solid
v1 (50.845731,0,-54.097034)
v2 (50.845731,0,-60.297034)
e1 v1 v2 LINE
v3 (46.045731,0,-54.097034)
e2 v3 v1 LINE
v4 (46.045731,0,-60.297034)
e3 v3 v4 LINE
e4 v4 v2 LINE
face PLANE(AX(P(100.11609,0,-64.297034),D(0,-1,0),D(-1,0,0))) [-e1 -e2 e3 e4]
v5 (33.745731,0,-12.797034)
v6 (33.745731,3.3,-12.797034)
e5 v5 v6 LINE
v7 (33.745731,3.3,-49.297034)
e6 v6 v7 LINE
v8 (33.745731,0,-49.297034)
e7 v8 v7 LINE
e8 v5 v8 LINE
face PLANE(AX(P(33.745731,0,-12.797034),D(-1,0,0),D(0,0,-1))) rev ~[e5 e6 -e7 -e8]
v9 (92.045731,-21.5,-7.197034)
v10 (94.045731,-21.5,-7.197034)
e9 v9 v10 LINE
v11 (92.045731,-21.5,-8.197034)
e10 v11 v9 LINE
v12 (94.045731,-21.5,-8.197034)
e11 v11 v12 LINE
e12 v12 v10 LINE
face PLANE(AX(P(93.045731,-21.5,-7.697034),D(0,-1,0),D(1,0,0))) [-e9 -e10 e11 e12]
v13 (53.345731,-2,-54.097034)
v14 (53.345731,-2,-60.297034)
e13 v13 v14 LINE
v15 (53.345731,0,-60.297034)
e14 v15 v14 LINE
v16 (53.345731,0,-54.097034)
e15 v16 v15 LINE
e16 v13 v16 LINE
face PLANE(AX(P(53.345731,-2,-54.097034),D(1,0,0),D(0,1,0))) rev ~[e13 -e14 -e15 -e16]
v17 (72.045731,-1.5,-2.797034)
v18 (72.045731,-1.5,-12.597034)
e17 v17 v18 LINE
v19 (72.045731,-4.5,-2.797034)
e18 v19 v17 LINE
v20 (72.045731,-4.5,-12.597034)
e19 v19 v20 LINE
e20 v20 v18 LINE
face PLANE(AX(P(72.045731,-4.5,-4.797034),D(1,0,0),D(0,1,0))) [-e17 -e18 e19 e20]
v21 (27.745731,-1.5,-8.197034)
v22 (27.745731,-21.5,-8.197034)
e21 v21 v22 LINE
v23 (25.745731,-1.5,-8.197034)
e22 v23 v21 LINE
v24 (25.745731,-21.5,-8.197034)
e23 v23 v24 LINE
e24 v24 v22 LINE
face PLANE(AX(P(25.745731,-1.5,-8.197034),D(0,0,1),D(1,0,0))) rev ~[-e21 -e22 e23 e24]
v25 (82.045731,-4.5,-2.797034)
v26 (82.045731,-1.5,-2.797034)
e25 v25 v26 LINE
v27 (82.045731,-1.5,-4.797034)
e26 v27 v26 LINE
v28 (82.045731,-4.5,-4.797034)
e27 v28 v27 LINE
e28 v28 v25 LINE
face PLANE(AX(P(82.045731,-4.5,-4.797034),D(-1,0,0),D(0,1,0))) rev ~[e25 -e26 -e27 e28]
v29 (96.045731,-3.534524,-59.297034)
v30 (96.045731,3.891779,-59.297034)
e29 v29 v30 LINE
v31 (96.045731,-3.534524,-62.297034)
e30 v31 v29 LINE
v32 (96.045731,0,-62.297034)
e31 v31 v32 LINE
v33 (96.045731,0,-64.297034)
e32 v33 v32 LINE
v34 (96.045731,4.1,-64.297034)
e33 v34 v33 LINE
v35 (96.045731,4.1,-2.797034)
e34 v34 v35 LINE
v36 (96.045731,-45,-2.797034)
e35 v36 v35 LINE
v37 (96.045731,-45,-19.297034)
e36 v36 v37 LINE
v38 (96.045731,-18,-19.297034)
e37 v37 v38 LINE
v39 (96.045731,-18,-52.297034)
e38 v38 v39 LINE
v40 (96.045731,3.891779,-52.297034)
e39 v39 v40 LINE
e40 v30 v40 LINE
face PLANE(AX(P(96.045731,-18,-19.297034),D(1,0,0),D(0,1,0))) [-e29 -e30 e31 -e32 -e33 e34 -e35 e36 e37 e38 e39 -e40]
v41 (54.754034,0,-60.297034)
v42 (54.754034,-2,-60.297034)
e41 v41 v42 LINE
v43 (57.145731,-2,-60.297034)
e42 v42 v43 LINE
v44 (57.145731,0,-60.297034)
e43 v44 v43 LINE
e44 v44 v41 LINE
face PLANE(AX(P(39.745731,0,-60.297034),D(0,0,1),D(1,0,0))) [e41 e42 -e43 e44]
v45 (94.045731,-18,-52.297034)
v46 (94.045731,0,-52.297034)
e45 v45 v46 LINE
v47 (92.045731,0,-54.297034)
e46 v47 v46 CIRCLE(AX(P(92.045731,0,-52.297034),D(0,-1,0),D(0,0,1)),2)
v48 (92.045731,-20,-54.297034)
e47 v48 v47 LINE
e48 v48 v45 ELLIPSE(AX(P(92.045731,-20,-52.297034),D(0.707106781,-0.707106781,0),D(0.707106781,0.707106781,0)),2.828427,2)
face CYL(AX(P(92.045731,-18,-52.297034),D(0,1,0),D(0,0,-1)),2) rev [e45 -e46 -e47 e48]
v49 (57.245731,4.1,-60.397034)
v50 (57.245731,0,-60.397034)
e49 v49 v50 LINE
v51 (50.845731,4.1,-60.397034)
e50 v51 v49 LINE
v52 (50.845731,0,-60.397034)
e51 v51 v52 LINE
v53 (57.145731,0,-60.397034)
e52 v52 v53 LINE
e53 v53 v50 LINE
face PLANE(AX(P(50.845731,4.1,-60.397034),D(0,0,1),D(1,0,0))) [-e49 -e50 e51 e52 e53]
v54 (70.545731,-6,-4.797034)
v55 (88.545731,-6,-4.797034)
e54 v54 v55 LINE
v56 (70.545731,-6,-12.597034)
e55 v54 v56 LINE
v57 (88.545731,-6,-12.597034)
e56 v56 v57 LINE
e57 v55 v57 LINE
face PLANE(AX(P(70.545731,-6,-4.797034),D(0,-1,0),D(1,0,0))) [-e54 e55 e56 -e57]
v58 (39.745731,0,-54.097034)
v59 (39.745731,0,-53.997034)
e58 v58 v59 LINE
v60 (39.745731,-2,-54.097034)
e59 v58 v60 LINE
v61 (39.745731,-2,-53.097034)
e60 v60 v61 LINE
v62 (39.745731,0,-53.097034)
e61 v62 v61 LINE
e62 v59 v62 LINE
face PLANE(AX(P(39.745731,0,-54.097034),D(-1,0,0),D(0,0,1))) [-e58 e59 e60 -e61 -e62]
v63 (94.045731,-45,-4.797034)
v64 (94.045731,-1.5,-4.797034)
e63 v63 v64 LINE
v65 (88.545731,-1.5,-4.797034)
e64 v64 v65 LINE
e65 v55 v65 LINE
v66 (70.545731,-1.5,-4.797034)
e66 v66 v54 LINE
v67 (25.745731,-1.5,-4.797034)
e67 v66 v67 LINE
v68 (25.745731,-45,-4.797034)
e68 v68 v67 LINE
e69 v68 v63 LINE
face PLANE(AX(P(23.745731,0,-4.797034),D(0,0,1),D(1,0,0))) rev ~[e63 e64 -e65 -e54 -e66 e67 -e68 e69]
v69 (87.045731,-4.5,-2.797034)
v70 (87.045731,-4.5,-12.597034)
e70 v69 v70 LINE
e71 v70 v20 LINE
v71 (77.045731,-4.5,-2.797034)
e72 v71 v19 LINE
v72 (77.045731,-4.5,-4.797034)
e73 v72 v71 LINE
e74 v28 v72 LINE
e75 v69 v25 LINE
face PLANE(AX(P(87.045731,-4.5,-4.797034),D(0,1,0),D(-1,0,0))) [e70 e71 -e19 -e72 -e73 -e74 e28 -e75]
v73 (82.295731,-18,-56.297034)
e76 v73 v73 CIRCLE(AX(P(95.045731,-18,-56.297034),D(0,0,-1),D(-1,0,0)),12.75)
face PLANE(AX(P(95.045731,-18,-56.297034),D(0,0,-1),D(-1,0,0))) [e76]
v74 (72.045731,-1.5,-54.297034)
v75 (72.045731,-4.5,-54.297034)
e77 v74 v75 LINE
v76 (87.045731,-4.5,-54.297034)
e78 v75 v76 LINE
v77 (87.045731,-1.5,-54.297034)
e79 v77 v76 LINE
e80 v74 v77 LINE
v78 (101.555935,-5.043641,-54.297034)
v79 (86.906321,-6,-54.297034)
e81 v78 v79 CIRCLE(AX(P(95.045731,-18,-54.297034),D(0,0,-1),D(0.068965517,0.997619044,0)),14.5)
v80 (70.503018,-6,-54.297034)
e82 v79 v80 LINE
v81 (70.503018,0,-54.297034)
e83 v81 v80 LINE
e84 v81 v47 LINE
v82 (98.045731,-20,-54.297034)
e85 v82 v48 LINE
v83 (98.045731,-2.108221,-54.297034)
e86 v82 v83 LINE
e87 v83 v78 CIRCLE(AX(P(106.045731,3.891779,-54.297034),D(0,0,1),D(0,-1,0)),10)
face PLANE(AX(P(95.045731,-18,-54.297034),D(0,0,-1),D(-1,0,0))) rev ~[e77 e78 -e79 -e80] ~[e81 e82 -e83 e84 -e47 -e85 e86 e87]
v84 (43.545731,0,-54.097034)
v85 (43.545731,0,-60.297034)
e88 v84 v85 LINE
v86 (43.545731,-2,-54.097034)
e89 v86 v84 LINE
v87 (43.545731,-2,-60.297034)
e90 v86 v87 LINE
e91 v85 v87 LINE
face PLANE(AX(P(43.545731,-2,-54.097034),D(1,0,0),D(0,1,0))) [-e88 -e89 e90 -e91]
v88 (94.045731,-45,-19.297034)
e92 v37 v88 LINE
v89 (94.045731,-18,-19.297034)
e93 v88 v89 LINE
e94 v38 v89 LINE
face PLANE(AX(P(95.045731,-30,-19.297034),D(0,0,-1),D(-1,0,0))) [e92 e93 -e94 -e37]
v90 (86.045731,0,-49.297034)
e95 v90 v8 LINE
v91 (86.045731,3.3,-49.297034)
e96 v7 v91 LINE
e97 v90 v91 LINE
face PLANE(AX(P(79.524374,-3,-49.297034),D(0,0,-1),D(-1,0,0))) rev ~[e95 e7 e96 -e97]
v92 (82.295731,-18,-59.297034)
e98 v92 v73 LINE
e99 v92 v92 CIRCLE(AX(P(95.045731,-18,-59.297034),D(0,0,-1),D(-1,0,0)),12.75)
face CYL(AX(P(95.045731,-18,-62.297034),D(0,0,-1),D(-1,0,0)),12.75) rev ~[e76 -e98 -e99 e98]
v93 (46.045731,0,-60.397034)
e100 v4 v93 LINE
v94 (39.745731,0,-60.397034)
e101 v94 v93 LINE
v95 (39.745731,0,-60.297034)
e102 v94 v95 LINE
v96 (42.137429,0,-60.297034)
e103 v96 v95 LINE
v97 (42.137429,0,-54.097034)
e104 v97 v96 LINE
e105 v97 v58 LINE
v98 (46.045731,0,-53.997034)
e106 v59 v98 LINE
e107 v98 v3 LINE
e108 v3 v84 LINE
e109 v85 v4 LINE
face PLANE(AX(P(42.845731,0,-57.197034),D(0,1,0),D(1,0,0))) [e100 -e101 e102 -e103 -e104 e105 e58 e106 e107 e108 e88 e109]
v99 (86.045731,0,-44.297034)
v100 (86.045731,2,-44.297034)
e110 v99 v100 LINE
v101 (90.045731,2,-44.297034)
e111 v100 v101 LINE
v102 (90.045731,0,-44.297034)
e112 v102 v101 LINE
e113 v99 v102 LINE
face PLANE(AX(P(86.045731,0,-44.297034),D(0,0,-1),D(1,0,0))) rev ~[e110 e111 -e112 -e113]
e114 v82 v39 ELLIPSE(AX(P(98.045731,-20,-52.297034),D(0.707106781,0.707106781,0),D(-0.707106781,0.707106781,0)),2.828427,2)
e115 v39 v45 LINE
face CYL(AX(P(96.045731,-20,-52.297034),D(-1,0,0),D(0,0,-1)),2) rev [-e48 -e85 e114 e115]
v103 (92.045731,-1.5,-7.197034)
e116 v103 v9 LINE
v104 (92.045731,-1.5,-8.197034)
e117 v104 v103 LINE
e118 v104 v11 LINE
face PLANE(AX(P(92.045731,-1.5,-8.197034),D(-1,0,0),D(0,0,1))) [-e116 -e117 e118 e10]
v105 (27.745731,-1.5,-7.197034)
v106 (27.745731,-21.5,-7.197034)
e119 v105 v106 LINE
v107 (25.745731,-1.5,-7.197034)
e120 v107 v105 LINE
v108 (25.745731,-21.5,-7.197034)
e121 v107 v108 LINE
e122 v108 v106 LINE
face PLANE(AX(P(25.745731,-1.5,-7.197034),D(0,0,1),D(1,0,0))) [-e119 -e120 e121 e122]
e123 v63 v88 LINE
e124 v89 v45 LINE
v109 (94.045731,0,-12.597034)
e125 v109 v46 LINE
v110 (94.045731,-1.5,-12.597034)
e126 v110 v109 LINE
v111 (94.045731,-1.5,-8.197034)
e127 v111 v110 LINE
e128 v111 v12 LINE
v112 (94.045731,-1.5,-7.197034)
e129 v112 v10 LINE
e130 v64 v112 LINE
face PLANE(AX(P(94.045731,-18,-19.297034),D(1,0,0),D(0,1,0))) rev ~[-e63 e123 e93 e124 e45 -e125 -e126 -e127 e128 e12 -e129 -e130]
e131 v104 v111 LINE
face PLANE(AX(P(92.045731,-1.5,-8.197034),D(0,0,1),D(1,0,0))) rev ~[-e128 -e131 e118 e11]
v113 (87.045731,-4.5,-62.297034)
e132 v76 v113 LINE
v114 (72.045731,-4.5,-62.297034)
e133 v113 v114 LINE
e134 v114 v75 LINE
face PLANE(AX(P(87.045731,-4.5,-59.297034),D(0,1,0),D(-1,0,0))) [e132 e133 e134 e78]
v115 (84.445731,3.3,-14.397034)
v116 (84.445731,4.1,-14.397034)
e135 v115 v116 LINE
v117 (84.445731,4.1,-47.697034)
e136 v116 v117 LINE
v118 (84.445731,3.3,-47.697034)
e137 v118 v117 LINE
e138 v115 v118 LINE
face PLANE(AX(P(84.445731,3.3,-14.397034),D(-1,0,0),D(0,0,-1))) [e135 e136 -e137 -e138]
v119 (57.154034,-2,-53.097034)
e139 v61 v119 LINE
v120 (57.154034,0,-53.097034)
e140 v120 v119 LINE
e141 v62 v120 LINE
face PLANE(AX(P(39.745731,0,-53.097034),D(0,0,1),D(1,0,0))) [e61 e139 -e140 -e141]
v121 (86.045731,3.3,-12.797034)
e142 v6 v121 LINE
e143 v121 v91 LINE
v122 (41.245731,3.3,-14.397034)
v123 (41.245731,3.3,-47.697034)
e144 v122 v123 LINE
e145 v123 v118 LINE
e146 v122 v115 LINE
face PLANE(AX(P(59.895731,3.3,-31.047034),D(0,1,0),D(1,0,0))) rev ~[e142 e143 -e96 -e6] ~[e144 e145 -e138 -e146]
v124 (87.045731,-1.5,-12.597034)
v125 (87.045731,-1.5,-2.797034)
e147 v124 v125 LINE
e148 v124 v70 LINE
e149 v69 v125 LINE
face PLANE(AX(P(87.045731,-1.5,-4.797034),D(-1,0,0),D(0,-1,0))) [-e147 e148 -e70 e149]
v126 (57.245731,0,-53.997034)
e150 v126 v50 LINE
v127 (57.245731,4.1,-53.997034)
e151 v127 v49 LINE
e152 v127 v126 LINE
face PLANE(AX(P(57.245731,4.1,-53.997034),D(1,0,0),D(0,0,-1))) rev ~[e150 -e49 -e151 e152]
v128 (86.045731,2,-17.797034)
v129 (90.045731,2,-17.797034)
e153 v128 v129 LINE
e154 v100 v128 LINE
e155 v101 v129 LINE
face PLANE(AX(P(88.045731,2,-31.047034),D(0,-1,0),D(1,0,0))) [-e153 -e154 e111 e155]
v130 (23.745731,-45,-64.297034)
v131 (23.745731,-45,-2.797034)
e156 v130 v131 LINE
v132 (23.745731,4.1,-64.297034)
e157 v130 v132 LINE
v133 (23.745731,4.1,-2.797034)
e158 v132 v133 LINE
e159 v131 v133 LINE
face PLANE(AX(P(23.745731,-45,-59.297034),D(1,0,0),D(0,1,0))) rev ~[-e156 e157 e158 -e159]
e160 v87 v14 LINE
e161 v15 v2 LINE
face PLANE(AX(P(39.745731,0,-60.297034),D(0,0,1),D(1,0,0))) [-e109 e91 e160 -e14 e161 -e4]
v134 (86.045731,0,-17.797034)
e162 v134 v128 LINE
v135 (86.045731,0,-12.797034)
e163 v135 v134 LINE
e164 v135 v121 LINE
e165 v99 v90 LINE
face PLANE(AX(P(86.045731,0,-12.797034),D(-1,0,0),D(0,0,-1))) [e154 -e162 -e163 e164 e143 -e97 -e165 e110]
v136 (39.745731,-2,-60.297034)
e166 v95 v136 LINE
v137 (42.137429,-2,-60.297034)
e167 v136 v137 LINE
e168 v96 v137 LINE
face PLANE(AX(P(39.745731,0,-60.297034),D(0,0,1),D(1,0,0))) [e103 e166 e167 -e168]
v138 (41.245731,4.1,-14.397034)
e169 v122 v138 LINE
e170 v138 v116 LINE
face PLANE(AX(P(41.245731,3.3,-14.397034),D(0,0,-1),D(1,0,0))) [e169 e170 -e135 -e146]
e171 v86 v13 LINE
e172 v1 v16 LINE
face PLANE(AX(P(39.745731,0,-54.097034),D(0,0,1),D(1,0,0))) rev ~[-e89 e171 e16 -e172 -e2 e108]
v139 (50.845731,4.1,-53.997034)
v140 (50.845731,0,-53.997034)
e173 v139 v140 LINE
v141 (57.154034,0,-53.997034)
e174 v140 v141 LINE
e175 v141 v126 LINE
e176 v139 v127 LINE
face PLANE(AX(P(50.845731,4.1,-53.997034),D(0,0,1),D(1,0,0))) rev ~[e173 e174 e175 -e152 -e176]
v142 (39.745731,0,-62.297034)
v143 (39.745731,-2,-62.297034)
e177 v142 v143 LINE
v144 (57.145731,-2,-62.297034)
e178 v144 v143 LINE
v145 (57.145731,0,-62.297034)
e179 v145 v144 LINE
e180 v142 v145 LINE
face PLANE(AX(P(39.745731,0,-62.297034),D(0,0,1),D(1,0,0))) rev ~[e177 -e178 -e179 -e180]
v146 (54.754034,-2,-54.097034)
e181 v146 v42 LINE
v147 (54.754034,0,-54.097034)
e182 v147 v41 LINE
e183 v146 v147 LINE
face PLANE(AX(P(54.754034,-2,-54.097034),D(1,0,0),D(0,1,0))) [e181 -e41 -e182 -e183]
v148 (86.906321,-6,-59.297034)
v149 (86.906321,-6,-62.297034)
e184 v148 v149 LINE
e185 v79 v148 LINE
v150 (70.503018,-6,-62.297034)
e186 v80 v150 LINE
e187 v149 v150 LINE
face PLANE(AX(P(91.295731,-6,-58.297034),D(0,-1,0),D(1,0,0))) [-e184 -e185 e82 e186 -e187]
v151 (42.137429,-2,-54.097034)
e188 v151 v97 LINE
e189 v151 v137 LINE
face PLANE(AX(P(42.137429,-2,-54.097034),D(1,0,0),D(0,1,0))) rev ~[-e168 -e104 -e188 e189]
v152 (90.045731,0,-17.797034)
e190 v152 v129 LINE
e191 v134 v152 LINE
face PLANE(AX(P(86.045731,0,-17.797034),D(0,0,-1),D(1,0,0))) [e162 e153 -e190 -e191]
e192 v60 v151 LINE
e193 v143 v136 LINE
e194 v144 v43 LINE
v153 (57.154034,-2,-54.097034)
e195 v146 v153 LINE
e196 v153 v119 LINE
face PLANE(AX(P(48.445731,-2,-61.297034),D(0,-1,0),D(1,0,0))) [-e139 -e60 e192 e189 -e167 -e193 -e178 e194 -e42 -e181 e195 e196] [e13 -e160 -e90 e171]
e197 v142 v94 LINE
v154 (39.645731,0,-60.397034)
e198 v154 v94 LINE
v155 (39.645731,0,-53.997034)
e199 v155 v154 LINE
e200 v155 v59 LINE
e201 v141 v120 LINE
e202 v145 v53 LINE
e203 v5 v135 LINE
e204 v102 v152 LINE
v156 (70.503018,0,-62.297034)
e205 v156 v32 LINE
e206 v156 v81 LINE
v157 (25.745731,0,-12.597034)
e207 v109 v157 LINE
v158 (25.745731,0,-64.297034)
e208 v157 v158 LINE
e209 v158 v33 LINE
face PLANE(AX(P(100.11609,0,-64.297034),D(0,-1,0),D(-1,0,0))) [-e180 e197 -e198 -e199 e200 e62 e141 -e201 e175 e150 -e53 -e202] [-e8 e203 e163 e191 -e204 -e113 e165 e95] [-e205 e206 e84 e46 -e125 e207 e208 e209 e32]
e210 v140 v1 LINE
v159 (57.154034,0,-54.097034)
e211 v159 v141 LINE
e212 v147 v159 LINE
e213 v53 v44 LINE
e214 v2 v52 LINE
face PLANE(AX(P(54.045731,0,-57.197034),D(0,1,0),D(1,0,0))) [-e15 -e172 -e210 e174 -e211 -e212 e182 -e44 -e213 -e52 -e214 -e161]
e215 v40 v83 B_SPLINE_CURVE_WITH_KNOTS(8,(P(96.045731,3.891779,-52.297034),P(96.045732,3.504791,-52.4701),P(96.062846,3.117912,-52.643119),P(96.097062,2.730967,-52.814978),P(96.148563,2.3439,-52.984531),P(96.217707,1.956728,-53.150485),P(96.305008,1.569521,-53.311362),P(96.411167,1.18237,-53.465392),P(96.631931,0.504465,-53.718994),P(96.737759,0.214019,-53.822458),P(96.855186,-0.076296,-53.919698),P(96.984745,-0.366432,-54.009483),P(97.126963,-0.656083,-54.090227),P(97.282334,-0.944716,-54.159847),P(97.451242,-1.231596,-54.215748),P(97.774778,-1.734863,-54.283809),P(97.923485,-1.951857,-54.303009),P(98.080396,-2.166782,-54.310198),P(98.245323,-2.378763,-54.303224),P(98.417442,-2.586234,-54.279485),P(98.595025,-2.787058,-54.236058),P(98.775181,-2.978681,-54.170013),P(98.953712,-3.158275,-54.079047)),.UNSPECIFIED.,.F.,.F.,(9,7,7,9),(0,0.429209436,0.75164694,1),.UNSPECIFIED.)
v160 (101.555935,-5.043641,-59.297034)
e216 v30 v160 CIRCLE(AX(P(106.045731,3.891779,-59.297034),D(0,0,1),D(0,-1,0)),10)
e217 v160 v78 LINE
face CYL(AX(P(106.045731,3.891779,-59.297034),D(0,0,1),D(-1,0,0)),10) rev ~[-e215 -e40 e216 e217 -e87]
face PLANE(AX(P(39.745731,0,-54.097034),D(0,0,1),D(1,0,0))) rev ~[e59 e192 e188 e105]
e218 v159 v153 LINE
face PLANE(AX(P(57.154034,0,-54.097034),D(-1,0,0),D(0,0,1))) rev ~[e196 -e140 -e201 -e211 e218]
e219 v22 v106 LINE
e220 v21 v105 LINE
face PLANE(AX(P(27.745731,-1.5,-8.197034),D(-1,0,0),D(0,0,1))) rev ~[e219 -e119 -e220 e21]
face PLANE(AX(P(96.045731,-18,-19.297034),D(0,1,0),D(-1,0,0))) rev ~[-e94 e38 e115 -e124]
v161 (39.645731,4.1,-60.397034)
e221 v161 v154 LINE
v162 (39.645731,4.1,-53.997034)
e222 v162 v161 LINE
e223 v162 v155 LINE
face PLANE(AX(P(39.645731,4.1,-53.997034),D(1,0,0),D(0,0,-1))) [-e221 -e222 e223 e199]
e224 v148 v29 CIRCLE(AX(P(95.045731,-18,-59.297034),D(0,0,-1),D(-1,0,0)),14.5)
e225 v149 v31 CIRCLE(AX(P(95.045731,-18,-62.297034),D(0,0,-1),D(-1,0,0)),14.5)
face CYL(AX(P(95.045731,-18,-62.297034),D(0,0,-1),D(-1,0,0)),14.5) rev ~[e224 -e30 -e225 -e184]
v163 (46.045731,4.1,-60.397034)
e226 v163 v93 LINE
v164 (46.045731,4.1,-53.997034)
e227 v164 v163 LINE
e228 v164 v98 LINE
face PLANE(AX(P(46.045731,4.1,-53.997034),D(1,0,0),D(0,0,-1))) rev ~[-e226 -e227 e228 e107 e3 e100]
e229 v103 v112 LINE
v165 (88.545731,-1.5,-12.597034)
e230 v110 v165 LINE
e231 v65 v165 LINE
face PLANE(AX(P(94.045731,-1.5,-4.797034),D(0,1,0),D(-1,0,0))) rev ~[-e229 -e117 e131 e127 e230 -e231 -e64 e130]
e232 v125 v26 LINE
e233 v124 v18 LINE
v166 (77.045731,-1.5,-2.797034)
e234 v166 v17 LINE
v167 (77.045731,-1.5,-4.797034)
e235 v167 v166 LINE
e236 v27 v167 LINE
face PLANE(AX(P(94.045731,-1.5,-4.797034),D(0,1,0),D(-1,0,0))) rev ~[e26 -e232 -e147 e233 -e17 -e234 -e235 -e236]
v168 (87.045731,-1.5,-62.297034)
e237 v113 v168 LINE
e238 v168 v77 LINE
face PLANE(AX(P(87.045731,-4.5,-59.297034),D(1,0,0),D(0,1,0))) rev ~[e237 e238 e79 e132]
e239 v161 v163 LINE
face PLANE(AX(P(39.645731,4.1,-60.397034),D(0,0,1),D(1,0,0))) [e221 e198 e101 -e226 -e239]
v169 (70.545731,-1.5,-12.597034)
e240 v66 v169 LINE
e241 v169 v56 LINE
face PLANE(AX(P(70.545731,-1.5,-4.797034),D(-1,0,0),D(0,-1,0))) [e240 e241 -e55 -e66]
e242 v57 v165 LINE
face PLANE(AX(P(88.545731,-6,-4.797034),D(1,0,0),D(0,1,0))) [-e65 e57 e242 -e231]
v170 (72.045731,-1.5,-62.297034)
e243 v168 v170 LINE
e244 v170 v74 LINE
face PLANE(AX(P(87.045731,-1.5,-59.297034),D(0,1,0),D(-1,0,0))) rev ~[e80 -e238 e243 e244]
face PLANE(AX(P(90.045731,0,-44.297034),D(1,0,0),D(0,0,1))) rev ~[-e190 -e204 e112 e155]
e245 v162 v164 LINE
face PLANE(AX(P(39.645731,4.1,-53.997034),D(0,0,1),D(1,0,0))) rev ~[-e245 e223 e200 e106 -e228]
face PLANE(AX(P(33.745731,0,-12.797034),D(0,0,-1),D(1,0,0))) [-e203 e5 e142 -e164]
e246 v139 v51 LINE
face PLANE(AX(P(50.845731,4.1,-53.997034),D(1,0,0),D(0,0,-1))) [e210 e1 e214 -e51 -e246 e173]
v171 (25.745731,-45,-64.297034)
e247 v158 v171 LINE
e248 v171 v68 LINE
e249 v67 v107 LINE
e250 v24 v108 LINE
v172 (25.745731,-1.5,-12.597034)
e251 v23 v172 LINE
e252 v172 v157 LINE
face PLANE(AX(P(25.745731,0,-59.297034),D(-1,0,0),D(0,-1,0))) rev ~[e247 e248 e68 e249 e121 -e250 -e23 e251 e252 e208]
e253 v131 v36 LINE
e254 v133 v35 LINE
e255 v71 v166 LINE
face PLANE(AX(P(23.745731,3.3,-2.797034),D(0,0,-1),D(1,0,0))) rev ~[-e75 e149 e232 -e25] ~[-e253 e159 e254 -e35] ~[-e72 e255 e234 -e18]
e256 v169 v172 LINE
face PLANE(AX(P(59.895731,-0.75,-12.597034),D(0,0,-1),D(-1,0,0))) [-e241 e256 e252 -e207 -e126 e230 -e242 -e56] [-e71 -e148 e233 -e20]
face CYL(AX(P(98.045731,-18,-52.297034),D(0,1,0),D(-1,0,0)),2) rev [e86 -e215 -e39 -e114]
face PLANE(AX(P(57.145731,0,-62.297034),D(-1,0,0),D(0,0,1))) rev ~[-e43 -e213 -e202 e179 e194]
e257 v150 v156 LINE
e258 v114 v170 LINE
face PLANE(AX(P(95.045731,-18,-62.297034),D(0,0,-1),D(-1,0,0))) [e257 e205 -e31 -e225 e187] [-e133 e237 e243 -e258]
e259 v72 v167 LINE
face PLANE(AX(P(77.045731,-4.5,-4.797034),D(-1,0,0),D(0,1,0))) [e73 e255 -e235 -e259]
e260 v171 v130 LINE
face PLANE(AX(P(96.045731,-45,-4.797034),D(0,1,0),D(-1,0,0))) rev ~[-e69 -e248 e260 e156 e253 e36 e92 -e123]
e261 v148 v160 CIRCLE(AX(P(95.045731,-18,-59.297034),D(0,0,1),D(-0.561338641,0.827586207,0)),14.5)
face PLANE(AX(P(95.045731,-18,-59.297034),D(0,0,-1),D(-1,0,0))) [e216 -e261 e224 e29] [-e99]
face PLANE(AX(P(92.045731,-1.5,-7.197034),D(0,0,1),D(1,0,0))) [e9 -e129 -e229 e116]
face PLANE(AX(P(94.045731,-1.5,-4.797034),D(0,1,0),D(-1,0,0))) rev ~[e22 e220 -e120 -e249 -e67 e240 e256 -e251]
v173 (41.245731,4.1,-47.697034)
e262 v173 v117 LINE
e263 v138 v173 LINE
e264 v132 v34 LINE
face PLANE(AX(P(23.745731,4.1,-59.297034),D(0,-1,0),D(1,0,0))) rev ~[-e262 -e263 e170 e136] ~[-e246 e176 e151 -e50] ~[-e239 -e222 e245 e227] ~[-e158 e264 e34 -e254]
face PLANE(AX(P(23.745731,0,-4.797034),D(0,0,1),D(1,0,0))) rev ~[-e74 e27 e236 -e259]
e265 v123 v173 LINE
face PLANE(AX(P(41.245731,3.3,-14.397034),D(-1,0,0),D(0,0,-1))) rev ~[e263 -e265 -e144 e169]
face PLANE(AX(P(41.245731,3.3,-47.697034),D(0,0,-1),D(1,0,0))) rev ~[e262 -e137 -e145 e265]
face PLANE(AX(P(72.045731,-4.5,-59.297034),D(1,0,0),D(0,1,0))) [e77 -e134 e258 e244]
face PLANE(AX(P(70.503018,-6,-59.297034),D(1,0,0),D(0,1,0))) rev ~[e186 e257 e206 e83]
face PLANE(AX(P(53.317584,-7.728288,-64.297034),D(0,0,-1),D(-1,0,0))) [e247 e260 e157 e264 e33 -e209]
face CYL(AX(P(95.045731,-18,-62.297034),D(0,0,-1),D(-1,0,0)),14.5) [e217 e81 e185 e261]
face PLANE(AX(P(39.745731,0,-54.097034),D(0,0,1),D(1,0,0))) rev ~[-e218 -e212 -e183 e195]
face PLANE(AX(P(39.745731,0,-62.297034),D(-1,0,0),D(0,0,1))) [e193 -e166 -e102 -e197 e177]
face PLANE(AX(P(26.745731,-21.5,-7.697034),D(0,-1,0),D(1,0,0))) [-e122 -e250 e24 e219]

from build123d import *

# Parameters (mm, degrees)
SKETCH1_W            = 72.3
SKETCH1_H            = 56.5
SKETCH1_W_2          = 52.3
SKETCH1_H_2          = 36.5
BOSS_EXTRUDE1_DEPTH  = 3.3
SKETCH2_W            = 72.3
SKETCH2_H            = 2
BOSS_EXTRUDE2_DEPTH  = 45
SKETCH3_W            = 2
SKETCH3_H            = 45
BOSS_EXTRUDE3_DEPTH  = 54.5
SKETCH5_W            = 72.3
SKETCH5_H            = 56.5
SKETCH5_W_2          = 43.2
SKETCH5_H_2          = 33.3
BOSS_EXTRUDE6_DEPTH  = 0.8
SKETCH6_W            = 68.3
SKETCH6_H            = 1.5
BOSS_EXTRUDE7_DEPTH  = 7.8
BOSS_EXTRUDE8_DEPTH  = 7.8
SKETCH8_W            = 18.0427139
SKETCH8_H            = 6
SKETCH8_W_2          = 15
SKETCH8_H_2          = 3
BOSS_EXTRUDE9_DEPTH  = 10
SKETCH9_W            = 4
SKETCH9_H            = 26.5
CUT_EXTRUDE1_DEPTH   = 2
SKETCH10_W           = 2
SKETCH10_H           = 30
CUT_EXTRUDE2_DEPTH   = 40
SKETCH11_W           = 2
SKETCH11_H           = 1
BOSS_EXTRUDE10_DEPTH = 20
SKETCH13_W           = 15
SKETCH13_H           = 3
BOSS_EXTRUDE11_DEPTH = 5
SKETCH12_W           = 6.2
SKETCH12_H           = 6.2
CUT_EXTRUDE3_DEPTH   = 10
SKETCH14_W           = 18.0427139
SKETCH14_H           = 5
CUT_EXTRUDE4_DEPTH   = 25
SKETCH15_W           = 29.613072231
SKETCH15_H           = 15.101269166
CUT_EXTRUDE5_DEPTH   = 2
SKETCH17_W           = 5.5
SKETCH17_H           = 8
BOSS_EXTRUDE12_DEPTH = 6
SKETCH20_W           = 2
SKETCH20_H           = 3
BOSS_EXTRUDE14_DEPTH = 43
SKETCH21_R           = 14.5
BOSS_EXTRUDE15_DEPTH = 8
SKETCH22_R           = 12.75
CUT_EXTRUDE6_DEPTH   = 6
FILLET1_R            = 2
SKETCH23_W           = 17.408302374
SKETCH23_H           = 1
BOSS_EXTRUDE16_DEPTH = 2
BOSS_EXTRUDE17_REACH = 131.062
SKETCH24_W           = 1.408302374
SKETCH24_H           = 2
SKETCH24_W_2         = 1.408302375
SKETCH25_W           = 17.4
SKETCH25_H           = 2
BOSS_EXTRUDE18_DEPTH = 2
SKETCH26_W           = 6.4
SKETCH26_H           = 6.4
CUT_EXTRUDE7_DEPTH   = 4.1
SKETCH28_W           = 5
SKETCH28_H           = 3
CUT_EXTRUDE9_DEPTH   = 2
SKETCH29_R           = 14.5
SKETCH29_R_2         = 12.75
CUT_EXTRUDE10_DEPTH  = 3
FILLET2_R            = 10


with BuildPart() as part:
    # Sketch1 → Boss-Extrude1 (new body)
    with BuildSketch(Plane(origin=(0, 0, 0), x_dir=(1, 0, 0), z_dir=(0, 1, 0))):
        with Locations((59.895731411, 31.047033621)):
            Rectangle(SKETCH1_W, SKETCH1_H)
        with Locations((59.895731411, 31.047033621)):
            Rectangle(SKETCH1_W_2, SKETCH1_H_2, mode=Mode.SUBTRACT)
    extrude(amount=BOSS_EXTRUDE1_DEPTH)

    # Sketch2 → Boss-Extrude2 (add)
    with BuildSketch(Plane.XZ):
        with Locations((59.895731411, -3.797033621)):
            Rectangle(SKETCH2_W, SKETCH2_H)
    extrude(amount=BOSS_EXTRUDE2_DEPTH)

    # Sketch3 → Boss-Extrude3 (add)
    with BuildSketch(Plane(origin=(0, 0, -4.797033621), x_dir=(-1, 0, 0), z_dir=(0, 0, -1))):
        with Locations((-95.045731411, -22.5)):
            Rectangle(SKETCH3_W, SKETCH3_H)
        with Locations((-24.745731411, -22.5)):
            Rectangle(SKETCH3_W, SKETCH3_H)
    extrude(amount=BOSS_EXTRUDE3_DEPTH)

    # Sketch5 → Boss-Extrude6 (add)
    with BuildSketch(Plane(origin=(0, 3.3, 0), x_dir=(1, 0, 0), z_dir=(0, 1, 0))):
        with Locations((59.895731411, 31.047033621)):
            Rectangle(SKETCH5_W, SKETCH5_H)
        with Locations((62.845731411, 31.047033621)):
            Rectangle(SKETCH5_W_2, SKETCH5_H_2, mode=Mode.SUBTRACT)
    extrude(amount=BOSS_EXTRUDE6_DEPTH)

    # Sketch6 → Boss-Extrude7 (add)
    with BuildSketch(Plane(origin=(0, 0, -4.797033621), x_dir=(-1, 0, 0), z_dir=(0, 0, -1))):
        with Locations((-59.895731411, -0.75)):
            Rectangle(SKETCH6_W, SKETCH6_H)
    extrude(amount=BOSS_EXTRUDE7_DEPTH)

    # Sketch7 → Boss-Extrude8 (add)
    with BuildSketch(Plane(origin=(0, 0, -4.797033621), x_dir=(-1, 0, 0), z_dir=(0, 0, -1))):
        Polygon((-87.045731411, -1.5), (-87.045731411, -4.5), (-72.045731411, -4.5), (-72.045731411, -1.5), (-70.545731411, -1.5), (-70.545731411, -6), (-88.545731411, -6), (-88.545731411, -1.5), align=None)
    extrude(amount=BOSS_EXTRUDE8_DEPTH)

    # Sketch8 → Boss-Extrude9 (add)
    with BuildSketch(Plane(origin=(0, 0, -59.297033621), x_dir=(-1, 0, 0), z_dir=(0, 0, -1))):
        with Locations((-79.524374461, -3)):
            Rectangle(SKETCH8_W, SKETCH8_H)
        with Locations((-79.545731411, -3)):
            Rectangle(SKETCH8_W_2, SKETCH8_H_2, mode=Mode.SUBTRACT)
    extrude(amount=-BOSS_EXTRUDE9_DEPTH)

    # Sketch9 → Cut-Extrude1 (cut)
    with BuildSketch(Plane.XZ):
        with Locations((88.045731411, -31.047033621)):
            Rectangle(SKETCH9_W, SKETCH9_H)
    extrude(amount=-CUT_EXTRUDE1_DEPTH, mode=Mode.SUBTRACT)

    # Sketch10 → Cut-Extrude2 (cut)
    with BuildSketch(Plane(origin=(0, 0, -59.297033621), x_dir=(-1, 0, 0), z_dir=(0, 0, -1))):
        with Locations((-95.045731411, -30)):
            Rectangle(SKETCH10_W, SKETCH10_H)
    extrude(amount=-CUT_EXTRUDE2_DEPTH, mode=Mode.SUBTRACT)

    # Sketch11 → Boss-Extrude10 (add)
    with BuildSketch(Plane.XZ.offset(1.5)):
        with Locations((93.045731411, -7.697033621)):
            Rectangle(SKETCH11_W, SKETCH11_H)
        with Locations((26.745731411, -7.697033621)):
            Rectangle(SKETCH11_W, SKETCH11_H)
    extrude(amount=BOSS_EXTRUDE10_DEPTH)

    # Sketch13 → Boss-Extrude11 (add)
    with BuildSketch(Plane(origin=(0, 0, -59.297033621), x_dir=(-1, 0, 0), z_dir=(0, 0, -1))):
        Polygon((-96.045731411, 4.1), (-96.045731411, -15), (-94.045731411, -15), (-94.045731411, 0), (-88.545731411, 0), (-88.545731411, -6), (-70.503017511, -6), (-70.503017511, 0), (-25.745731411, 0), (-25.745731411, -45), (-23.745731411, -45), (-23.745731411, 4.1), align=None)
        with Locations((-79.545731411, -3)):
            Rectangle(SKETCH13_W, SKETCH13_H, mode=Mode.SUBTRACT)
    extrude(amount=BOSS_EXTRUDE11_DEPTH)

    # Sketch12 → Cut-Extrude3 (cut)
    with BuildSketch(Plane(origin=(0, 4.1, 0), x_dir=(1, 0, 0), z_dir=(0, 1, 0))):
        with Locations((42.845731411, 57.197033621)):
            Rectangle(SKETCH12_W, SKETCH12_H)
        with Locations((54.045731411, 57.197033621)):
            Rectangle(SKETCH12_W, SKETCH12_H)
    extrude(amount=-CUT_EXTRUDE3_DEPTH, mode=Mode.SUBTRACT)

    # Sketch14 → Cut-Extrude4 (cut)
    with BuildSketch(Plane.XZ):
        with Locations((79.524374461, -51.797033621)):
            Rectangle(SKETCH14_W, SKETCH14_H)
    extrude(amount=CUT_EXTRUDE4_DEPTH, mode=Mode.SUBTRACT)

    # Sketch15 → Cut-Extrude5 (cut)
    with BuildSketch(Plane(origin=(0, 0, -64.297033621), x_dir=(-1, 0, 0), z_dir=(0, 0, -1))):
        with Locations((-85.309553627, -7.550634583)):
            Rectangle(SKETCH15_W, SKETCH15_H)
    extrude(amount=-CUT_EXTRUDE5_DEPTH, mode=Mode.SUBTRACT)

    # Sketch17 → Boss-Extrude12 (add)
    with BuildSketch(Plane.XZ):
        with Locations((91.295731411, -58.297033621)):
            Rectangle(SKETCH17_W, SKETCH17_H)
    extrude(amount=BOSS_EXTRUDE12_DEPTH)

    # Sketch20 → Boss-Extrude14 (add)
    with BuildSketch(Plane(origin=(0, 0, -19.297033621), x_dir=(-1, 0, 0), z_dir=(0, 0, -1))):
        with Locations((-95.045731411, -16.5)):
            Rectangle(SKETCH20_W, SKETCH20_H)
    extrude(amount=BOSS_EXTRUDE14_DEPTH)

    # Sketch21 → Boss-Extrude15 (add)
    with BuildSketch(Plane(origin=(0, 0, -62.297033621), x_dir=(-1, 0, 0), z_dir=(0, 0, -1))):
        with Locations((-95.045731411, -18)):
            Circle(SKETCH21_R)
    extrude(amount=-BOSS_EXTRUDE15_DEPTH)

    # Sketch22 → Cut-Extrude6 (cut)
    with BuildSketch(Plane(origin=(0, 0, -62.297033621), x_dir=(-1, 0, 0), z_dir=(0, 0, -1))):
        with Locations((-95.045731411, -18)):
            Circle(SKETCH22_R)
    extrude(amount=-CUT_EXTRUDE6_DEPTH, mode=Mode.SUBTRACT)

    # Fillet1
    fillet1_edges = [part.edges().sort_by_distance(p)[0] for p in [
        (94.045731411, -9, -54.297033621),
        (95.045731411, -18, -54.297033621),
        (96.045731411, -10.767261929, -54.297033621),
    ]]
    fillet(fillet1_edges, radius=FILLET1_R)

    # Sketch23 → Boss-Extrude16 (add)
    with BuildSketch(Plane.XZ):
        with Locations((48.449882598, -53.597033621)):
            Rectangle(SKETCH23_W, SKETCH23_H)
    extrude(amount=BOSS_EXTRUDE16_DEPTH)

    # Boss-Extrude17: up to this face of the body (flat: up to its plane)
    boss_extrude17_end = Plane(part.part.faces().sort_by_distance((83.274374461, -0.50799444, -62.297033621))[0])
    # Sketch24 → Boss-Extrude17 (add, up to the picked face)
    with BuildSketch(Plane(origin=(0, 0, -54.097033621), x_dir=(-1, 0, 0), z_dir=(0, 0, -1)), mode=Mode.PRIVATE) as boss_extrude17_sk1:
        with Locations((-54.049882598, -1)):
            Rectangle(SKETCH24_W, SKETCH24_H)
    boss_extrude17_tool1 = split(extrude(boss_extrude17_sk1.sketch, amount=BOSS_EXTRUDE17_REACH, mode=Mode.PRIVATE), bisect_by=boss_extrude17_end, keep=Keep.BOTH, mode=Mode.PRIVATE)
    # Sketch24 → Boss-Extrude17 (add, up to the picked face)
    with BuildSketch(Plane(origin=(0, 0, -54.097033621), x_dir=(-1, 0, 0), z_dir=(0, 0, -1)), mode=Mode.PRIVATE) as boss_extrude17_sk2:
        with Locations((-42.841580224, -1)):
            Rectangle(SKETCH24_W_2, SKETCH24_H)
    boss_extrude17_tool2 = split(extrude(boss_extrude17_sk2.sketch, amount=BOSS_EXTRUDE17_REACH, mode=Mode.PRIVATE), bisect_by=boss_extrude17_end, keep=Keep.BOTH, mode=Mode.PRIVATE)
    add(boss_extrude17_tool1.solids().sort_by(Axis((54.049883, -1, -54.097034), (0, 0, -1)))[0])
    add(boss_extrude17_tool2.solids().sort_by(Axis((42.84158, -1, -54.097034), (0, 0, -1)))[0])

    # Sketch25 → Boss-Extrude18 (add)
    with BuildSketch(Plane.XZ):
        with Locations((48.445731411, -61.297033621)):
            Rectangle(SKETCH25_W, SKETCH25_H)
    extrude(amount=BOSS_EXTRUDE18_DEPTH)

    # Sketch26 → Cut-Extrude7 (cut)
    with BuildSketch(Plane(origin=(0, 4.1, 0), x_dir=(1, 0, 0), z_dir=(0, 1, 0))):
        with Locations((42.845731411, 57.197033621)):
            Rectangle(SKETCH26_W, SKETCH26_H)
        with Locations((54.045731411, 57.197033621)):
            Rectangle(SKETCH26_W, SKETCH26_H)
    extrude(amount=-CUT_EXTRUDE7_DEPTH, mode=Mode.SUBTRACT)

    # Sketch28 → Cut-Extrude9 (cut)
    with BuildSketch(Plane(origin=(0, 0, -4.797033621), x_dir=(-1, 0, 0), z_dir=(0, 0, -1))):
        with Locations((-84.545731411, -3)):
            Rectangle(SKETCH28_W, SKETCH28_H)
        with Locations((-74.545731411, -3)):
            Rectangle(SKETCH28_W, SKETCH28_H)
    extrude(amount=-CUT_EXTRUDE9_DEPTH, mode=Mode.SUBTRACT)

    # Sketch29 → Cut-Extrude10 (cut)
    with BuildSketch(Plane(origin=(0, 0, -62.297033621), x_dir=(-1, 0, 0), z_dir=(0, 0, -1))):
        with Locations((-95.045731411, -18)):
            Circle(SKETCH29_R)
        with Locations((-95.045731411, -18)):
            Circle(SKETCH29_R_2, mode=Mode.SUBTRACT)
    extrude(amount=-CUT_EXTRUDE10_DEPTH, mode=Mode.SUBTRACT)

    # Fillet2
    fillet2_edges = [part.edges().sort_by_distance(p)[0] for p in [
        (96.045731411, -3.534523859, -55.797033621),
    ]]
    fillet(fillet2_edges, radius=FILLET2_R)


solid = part.part
